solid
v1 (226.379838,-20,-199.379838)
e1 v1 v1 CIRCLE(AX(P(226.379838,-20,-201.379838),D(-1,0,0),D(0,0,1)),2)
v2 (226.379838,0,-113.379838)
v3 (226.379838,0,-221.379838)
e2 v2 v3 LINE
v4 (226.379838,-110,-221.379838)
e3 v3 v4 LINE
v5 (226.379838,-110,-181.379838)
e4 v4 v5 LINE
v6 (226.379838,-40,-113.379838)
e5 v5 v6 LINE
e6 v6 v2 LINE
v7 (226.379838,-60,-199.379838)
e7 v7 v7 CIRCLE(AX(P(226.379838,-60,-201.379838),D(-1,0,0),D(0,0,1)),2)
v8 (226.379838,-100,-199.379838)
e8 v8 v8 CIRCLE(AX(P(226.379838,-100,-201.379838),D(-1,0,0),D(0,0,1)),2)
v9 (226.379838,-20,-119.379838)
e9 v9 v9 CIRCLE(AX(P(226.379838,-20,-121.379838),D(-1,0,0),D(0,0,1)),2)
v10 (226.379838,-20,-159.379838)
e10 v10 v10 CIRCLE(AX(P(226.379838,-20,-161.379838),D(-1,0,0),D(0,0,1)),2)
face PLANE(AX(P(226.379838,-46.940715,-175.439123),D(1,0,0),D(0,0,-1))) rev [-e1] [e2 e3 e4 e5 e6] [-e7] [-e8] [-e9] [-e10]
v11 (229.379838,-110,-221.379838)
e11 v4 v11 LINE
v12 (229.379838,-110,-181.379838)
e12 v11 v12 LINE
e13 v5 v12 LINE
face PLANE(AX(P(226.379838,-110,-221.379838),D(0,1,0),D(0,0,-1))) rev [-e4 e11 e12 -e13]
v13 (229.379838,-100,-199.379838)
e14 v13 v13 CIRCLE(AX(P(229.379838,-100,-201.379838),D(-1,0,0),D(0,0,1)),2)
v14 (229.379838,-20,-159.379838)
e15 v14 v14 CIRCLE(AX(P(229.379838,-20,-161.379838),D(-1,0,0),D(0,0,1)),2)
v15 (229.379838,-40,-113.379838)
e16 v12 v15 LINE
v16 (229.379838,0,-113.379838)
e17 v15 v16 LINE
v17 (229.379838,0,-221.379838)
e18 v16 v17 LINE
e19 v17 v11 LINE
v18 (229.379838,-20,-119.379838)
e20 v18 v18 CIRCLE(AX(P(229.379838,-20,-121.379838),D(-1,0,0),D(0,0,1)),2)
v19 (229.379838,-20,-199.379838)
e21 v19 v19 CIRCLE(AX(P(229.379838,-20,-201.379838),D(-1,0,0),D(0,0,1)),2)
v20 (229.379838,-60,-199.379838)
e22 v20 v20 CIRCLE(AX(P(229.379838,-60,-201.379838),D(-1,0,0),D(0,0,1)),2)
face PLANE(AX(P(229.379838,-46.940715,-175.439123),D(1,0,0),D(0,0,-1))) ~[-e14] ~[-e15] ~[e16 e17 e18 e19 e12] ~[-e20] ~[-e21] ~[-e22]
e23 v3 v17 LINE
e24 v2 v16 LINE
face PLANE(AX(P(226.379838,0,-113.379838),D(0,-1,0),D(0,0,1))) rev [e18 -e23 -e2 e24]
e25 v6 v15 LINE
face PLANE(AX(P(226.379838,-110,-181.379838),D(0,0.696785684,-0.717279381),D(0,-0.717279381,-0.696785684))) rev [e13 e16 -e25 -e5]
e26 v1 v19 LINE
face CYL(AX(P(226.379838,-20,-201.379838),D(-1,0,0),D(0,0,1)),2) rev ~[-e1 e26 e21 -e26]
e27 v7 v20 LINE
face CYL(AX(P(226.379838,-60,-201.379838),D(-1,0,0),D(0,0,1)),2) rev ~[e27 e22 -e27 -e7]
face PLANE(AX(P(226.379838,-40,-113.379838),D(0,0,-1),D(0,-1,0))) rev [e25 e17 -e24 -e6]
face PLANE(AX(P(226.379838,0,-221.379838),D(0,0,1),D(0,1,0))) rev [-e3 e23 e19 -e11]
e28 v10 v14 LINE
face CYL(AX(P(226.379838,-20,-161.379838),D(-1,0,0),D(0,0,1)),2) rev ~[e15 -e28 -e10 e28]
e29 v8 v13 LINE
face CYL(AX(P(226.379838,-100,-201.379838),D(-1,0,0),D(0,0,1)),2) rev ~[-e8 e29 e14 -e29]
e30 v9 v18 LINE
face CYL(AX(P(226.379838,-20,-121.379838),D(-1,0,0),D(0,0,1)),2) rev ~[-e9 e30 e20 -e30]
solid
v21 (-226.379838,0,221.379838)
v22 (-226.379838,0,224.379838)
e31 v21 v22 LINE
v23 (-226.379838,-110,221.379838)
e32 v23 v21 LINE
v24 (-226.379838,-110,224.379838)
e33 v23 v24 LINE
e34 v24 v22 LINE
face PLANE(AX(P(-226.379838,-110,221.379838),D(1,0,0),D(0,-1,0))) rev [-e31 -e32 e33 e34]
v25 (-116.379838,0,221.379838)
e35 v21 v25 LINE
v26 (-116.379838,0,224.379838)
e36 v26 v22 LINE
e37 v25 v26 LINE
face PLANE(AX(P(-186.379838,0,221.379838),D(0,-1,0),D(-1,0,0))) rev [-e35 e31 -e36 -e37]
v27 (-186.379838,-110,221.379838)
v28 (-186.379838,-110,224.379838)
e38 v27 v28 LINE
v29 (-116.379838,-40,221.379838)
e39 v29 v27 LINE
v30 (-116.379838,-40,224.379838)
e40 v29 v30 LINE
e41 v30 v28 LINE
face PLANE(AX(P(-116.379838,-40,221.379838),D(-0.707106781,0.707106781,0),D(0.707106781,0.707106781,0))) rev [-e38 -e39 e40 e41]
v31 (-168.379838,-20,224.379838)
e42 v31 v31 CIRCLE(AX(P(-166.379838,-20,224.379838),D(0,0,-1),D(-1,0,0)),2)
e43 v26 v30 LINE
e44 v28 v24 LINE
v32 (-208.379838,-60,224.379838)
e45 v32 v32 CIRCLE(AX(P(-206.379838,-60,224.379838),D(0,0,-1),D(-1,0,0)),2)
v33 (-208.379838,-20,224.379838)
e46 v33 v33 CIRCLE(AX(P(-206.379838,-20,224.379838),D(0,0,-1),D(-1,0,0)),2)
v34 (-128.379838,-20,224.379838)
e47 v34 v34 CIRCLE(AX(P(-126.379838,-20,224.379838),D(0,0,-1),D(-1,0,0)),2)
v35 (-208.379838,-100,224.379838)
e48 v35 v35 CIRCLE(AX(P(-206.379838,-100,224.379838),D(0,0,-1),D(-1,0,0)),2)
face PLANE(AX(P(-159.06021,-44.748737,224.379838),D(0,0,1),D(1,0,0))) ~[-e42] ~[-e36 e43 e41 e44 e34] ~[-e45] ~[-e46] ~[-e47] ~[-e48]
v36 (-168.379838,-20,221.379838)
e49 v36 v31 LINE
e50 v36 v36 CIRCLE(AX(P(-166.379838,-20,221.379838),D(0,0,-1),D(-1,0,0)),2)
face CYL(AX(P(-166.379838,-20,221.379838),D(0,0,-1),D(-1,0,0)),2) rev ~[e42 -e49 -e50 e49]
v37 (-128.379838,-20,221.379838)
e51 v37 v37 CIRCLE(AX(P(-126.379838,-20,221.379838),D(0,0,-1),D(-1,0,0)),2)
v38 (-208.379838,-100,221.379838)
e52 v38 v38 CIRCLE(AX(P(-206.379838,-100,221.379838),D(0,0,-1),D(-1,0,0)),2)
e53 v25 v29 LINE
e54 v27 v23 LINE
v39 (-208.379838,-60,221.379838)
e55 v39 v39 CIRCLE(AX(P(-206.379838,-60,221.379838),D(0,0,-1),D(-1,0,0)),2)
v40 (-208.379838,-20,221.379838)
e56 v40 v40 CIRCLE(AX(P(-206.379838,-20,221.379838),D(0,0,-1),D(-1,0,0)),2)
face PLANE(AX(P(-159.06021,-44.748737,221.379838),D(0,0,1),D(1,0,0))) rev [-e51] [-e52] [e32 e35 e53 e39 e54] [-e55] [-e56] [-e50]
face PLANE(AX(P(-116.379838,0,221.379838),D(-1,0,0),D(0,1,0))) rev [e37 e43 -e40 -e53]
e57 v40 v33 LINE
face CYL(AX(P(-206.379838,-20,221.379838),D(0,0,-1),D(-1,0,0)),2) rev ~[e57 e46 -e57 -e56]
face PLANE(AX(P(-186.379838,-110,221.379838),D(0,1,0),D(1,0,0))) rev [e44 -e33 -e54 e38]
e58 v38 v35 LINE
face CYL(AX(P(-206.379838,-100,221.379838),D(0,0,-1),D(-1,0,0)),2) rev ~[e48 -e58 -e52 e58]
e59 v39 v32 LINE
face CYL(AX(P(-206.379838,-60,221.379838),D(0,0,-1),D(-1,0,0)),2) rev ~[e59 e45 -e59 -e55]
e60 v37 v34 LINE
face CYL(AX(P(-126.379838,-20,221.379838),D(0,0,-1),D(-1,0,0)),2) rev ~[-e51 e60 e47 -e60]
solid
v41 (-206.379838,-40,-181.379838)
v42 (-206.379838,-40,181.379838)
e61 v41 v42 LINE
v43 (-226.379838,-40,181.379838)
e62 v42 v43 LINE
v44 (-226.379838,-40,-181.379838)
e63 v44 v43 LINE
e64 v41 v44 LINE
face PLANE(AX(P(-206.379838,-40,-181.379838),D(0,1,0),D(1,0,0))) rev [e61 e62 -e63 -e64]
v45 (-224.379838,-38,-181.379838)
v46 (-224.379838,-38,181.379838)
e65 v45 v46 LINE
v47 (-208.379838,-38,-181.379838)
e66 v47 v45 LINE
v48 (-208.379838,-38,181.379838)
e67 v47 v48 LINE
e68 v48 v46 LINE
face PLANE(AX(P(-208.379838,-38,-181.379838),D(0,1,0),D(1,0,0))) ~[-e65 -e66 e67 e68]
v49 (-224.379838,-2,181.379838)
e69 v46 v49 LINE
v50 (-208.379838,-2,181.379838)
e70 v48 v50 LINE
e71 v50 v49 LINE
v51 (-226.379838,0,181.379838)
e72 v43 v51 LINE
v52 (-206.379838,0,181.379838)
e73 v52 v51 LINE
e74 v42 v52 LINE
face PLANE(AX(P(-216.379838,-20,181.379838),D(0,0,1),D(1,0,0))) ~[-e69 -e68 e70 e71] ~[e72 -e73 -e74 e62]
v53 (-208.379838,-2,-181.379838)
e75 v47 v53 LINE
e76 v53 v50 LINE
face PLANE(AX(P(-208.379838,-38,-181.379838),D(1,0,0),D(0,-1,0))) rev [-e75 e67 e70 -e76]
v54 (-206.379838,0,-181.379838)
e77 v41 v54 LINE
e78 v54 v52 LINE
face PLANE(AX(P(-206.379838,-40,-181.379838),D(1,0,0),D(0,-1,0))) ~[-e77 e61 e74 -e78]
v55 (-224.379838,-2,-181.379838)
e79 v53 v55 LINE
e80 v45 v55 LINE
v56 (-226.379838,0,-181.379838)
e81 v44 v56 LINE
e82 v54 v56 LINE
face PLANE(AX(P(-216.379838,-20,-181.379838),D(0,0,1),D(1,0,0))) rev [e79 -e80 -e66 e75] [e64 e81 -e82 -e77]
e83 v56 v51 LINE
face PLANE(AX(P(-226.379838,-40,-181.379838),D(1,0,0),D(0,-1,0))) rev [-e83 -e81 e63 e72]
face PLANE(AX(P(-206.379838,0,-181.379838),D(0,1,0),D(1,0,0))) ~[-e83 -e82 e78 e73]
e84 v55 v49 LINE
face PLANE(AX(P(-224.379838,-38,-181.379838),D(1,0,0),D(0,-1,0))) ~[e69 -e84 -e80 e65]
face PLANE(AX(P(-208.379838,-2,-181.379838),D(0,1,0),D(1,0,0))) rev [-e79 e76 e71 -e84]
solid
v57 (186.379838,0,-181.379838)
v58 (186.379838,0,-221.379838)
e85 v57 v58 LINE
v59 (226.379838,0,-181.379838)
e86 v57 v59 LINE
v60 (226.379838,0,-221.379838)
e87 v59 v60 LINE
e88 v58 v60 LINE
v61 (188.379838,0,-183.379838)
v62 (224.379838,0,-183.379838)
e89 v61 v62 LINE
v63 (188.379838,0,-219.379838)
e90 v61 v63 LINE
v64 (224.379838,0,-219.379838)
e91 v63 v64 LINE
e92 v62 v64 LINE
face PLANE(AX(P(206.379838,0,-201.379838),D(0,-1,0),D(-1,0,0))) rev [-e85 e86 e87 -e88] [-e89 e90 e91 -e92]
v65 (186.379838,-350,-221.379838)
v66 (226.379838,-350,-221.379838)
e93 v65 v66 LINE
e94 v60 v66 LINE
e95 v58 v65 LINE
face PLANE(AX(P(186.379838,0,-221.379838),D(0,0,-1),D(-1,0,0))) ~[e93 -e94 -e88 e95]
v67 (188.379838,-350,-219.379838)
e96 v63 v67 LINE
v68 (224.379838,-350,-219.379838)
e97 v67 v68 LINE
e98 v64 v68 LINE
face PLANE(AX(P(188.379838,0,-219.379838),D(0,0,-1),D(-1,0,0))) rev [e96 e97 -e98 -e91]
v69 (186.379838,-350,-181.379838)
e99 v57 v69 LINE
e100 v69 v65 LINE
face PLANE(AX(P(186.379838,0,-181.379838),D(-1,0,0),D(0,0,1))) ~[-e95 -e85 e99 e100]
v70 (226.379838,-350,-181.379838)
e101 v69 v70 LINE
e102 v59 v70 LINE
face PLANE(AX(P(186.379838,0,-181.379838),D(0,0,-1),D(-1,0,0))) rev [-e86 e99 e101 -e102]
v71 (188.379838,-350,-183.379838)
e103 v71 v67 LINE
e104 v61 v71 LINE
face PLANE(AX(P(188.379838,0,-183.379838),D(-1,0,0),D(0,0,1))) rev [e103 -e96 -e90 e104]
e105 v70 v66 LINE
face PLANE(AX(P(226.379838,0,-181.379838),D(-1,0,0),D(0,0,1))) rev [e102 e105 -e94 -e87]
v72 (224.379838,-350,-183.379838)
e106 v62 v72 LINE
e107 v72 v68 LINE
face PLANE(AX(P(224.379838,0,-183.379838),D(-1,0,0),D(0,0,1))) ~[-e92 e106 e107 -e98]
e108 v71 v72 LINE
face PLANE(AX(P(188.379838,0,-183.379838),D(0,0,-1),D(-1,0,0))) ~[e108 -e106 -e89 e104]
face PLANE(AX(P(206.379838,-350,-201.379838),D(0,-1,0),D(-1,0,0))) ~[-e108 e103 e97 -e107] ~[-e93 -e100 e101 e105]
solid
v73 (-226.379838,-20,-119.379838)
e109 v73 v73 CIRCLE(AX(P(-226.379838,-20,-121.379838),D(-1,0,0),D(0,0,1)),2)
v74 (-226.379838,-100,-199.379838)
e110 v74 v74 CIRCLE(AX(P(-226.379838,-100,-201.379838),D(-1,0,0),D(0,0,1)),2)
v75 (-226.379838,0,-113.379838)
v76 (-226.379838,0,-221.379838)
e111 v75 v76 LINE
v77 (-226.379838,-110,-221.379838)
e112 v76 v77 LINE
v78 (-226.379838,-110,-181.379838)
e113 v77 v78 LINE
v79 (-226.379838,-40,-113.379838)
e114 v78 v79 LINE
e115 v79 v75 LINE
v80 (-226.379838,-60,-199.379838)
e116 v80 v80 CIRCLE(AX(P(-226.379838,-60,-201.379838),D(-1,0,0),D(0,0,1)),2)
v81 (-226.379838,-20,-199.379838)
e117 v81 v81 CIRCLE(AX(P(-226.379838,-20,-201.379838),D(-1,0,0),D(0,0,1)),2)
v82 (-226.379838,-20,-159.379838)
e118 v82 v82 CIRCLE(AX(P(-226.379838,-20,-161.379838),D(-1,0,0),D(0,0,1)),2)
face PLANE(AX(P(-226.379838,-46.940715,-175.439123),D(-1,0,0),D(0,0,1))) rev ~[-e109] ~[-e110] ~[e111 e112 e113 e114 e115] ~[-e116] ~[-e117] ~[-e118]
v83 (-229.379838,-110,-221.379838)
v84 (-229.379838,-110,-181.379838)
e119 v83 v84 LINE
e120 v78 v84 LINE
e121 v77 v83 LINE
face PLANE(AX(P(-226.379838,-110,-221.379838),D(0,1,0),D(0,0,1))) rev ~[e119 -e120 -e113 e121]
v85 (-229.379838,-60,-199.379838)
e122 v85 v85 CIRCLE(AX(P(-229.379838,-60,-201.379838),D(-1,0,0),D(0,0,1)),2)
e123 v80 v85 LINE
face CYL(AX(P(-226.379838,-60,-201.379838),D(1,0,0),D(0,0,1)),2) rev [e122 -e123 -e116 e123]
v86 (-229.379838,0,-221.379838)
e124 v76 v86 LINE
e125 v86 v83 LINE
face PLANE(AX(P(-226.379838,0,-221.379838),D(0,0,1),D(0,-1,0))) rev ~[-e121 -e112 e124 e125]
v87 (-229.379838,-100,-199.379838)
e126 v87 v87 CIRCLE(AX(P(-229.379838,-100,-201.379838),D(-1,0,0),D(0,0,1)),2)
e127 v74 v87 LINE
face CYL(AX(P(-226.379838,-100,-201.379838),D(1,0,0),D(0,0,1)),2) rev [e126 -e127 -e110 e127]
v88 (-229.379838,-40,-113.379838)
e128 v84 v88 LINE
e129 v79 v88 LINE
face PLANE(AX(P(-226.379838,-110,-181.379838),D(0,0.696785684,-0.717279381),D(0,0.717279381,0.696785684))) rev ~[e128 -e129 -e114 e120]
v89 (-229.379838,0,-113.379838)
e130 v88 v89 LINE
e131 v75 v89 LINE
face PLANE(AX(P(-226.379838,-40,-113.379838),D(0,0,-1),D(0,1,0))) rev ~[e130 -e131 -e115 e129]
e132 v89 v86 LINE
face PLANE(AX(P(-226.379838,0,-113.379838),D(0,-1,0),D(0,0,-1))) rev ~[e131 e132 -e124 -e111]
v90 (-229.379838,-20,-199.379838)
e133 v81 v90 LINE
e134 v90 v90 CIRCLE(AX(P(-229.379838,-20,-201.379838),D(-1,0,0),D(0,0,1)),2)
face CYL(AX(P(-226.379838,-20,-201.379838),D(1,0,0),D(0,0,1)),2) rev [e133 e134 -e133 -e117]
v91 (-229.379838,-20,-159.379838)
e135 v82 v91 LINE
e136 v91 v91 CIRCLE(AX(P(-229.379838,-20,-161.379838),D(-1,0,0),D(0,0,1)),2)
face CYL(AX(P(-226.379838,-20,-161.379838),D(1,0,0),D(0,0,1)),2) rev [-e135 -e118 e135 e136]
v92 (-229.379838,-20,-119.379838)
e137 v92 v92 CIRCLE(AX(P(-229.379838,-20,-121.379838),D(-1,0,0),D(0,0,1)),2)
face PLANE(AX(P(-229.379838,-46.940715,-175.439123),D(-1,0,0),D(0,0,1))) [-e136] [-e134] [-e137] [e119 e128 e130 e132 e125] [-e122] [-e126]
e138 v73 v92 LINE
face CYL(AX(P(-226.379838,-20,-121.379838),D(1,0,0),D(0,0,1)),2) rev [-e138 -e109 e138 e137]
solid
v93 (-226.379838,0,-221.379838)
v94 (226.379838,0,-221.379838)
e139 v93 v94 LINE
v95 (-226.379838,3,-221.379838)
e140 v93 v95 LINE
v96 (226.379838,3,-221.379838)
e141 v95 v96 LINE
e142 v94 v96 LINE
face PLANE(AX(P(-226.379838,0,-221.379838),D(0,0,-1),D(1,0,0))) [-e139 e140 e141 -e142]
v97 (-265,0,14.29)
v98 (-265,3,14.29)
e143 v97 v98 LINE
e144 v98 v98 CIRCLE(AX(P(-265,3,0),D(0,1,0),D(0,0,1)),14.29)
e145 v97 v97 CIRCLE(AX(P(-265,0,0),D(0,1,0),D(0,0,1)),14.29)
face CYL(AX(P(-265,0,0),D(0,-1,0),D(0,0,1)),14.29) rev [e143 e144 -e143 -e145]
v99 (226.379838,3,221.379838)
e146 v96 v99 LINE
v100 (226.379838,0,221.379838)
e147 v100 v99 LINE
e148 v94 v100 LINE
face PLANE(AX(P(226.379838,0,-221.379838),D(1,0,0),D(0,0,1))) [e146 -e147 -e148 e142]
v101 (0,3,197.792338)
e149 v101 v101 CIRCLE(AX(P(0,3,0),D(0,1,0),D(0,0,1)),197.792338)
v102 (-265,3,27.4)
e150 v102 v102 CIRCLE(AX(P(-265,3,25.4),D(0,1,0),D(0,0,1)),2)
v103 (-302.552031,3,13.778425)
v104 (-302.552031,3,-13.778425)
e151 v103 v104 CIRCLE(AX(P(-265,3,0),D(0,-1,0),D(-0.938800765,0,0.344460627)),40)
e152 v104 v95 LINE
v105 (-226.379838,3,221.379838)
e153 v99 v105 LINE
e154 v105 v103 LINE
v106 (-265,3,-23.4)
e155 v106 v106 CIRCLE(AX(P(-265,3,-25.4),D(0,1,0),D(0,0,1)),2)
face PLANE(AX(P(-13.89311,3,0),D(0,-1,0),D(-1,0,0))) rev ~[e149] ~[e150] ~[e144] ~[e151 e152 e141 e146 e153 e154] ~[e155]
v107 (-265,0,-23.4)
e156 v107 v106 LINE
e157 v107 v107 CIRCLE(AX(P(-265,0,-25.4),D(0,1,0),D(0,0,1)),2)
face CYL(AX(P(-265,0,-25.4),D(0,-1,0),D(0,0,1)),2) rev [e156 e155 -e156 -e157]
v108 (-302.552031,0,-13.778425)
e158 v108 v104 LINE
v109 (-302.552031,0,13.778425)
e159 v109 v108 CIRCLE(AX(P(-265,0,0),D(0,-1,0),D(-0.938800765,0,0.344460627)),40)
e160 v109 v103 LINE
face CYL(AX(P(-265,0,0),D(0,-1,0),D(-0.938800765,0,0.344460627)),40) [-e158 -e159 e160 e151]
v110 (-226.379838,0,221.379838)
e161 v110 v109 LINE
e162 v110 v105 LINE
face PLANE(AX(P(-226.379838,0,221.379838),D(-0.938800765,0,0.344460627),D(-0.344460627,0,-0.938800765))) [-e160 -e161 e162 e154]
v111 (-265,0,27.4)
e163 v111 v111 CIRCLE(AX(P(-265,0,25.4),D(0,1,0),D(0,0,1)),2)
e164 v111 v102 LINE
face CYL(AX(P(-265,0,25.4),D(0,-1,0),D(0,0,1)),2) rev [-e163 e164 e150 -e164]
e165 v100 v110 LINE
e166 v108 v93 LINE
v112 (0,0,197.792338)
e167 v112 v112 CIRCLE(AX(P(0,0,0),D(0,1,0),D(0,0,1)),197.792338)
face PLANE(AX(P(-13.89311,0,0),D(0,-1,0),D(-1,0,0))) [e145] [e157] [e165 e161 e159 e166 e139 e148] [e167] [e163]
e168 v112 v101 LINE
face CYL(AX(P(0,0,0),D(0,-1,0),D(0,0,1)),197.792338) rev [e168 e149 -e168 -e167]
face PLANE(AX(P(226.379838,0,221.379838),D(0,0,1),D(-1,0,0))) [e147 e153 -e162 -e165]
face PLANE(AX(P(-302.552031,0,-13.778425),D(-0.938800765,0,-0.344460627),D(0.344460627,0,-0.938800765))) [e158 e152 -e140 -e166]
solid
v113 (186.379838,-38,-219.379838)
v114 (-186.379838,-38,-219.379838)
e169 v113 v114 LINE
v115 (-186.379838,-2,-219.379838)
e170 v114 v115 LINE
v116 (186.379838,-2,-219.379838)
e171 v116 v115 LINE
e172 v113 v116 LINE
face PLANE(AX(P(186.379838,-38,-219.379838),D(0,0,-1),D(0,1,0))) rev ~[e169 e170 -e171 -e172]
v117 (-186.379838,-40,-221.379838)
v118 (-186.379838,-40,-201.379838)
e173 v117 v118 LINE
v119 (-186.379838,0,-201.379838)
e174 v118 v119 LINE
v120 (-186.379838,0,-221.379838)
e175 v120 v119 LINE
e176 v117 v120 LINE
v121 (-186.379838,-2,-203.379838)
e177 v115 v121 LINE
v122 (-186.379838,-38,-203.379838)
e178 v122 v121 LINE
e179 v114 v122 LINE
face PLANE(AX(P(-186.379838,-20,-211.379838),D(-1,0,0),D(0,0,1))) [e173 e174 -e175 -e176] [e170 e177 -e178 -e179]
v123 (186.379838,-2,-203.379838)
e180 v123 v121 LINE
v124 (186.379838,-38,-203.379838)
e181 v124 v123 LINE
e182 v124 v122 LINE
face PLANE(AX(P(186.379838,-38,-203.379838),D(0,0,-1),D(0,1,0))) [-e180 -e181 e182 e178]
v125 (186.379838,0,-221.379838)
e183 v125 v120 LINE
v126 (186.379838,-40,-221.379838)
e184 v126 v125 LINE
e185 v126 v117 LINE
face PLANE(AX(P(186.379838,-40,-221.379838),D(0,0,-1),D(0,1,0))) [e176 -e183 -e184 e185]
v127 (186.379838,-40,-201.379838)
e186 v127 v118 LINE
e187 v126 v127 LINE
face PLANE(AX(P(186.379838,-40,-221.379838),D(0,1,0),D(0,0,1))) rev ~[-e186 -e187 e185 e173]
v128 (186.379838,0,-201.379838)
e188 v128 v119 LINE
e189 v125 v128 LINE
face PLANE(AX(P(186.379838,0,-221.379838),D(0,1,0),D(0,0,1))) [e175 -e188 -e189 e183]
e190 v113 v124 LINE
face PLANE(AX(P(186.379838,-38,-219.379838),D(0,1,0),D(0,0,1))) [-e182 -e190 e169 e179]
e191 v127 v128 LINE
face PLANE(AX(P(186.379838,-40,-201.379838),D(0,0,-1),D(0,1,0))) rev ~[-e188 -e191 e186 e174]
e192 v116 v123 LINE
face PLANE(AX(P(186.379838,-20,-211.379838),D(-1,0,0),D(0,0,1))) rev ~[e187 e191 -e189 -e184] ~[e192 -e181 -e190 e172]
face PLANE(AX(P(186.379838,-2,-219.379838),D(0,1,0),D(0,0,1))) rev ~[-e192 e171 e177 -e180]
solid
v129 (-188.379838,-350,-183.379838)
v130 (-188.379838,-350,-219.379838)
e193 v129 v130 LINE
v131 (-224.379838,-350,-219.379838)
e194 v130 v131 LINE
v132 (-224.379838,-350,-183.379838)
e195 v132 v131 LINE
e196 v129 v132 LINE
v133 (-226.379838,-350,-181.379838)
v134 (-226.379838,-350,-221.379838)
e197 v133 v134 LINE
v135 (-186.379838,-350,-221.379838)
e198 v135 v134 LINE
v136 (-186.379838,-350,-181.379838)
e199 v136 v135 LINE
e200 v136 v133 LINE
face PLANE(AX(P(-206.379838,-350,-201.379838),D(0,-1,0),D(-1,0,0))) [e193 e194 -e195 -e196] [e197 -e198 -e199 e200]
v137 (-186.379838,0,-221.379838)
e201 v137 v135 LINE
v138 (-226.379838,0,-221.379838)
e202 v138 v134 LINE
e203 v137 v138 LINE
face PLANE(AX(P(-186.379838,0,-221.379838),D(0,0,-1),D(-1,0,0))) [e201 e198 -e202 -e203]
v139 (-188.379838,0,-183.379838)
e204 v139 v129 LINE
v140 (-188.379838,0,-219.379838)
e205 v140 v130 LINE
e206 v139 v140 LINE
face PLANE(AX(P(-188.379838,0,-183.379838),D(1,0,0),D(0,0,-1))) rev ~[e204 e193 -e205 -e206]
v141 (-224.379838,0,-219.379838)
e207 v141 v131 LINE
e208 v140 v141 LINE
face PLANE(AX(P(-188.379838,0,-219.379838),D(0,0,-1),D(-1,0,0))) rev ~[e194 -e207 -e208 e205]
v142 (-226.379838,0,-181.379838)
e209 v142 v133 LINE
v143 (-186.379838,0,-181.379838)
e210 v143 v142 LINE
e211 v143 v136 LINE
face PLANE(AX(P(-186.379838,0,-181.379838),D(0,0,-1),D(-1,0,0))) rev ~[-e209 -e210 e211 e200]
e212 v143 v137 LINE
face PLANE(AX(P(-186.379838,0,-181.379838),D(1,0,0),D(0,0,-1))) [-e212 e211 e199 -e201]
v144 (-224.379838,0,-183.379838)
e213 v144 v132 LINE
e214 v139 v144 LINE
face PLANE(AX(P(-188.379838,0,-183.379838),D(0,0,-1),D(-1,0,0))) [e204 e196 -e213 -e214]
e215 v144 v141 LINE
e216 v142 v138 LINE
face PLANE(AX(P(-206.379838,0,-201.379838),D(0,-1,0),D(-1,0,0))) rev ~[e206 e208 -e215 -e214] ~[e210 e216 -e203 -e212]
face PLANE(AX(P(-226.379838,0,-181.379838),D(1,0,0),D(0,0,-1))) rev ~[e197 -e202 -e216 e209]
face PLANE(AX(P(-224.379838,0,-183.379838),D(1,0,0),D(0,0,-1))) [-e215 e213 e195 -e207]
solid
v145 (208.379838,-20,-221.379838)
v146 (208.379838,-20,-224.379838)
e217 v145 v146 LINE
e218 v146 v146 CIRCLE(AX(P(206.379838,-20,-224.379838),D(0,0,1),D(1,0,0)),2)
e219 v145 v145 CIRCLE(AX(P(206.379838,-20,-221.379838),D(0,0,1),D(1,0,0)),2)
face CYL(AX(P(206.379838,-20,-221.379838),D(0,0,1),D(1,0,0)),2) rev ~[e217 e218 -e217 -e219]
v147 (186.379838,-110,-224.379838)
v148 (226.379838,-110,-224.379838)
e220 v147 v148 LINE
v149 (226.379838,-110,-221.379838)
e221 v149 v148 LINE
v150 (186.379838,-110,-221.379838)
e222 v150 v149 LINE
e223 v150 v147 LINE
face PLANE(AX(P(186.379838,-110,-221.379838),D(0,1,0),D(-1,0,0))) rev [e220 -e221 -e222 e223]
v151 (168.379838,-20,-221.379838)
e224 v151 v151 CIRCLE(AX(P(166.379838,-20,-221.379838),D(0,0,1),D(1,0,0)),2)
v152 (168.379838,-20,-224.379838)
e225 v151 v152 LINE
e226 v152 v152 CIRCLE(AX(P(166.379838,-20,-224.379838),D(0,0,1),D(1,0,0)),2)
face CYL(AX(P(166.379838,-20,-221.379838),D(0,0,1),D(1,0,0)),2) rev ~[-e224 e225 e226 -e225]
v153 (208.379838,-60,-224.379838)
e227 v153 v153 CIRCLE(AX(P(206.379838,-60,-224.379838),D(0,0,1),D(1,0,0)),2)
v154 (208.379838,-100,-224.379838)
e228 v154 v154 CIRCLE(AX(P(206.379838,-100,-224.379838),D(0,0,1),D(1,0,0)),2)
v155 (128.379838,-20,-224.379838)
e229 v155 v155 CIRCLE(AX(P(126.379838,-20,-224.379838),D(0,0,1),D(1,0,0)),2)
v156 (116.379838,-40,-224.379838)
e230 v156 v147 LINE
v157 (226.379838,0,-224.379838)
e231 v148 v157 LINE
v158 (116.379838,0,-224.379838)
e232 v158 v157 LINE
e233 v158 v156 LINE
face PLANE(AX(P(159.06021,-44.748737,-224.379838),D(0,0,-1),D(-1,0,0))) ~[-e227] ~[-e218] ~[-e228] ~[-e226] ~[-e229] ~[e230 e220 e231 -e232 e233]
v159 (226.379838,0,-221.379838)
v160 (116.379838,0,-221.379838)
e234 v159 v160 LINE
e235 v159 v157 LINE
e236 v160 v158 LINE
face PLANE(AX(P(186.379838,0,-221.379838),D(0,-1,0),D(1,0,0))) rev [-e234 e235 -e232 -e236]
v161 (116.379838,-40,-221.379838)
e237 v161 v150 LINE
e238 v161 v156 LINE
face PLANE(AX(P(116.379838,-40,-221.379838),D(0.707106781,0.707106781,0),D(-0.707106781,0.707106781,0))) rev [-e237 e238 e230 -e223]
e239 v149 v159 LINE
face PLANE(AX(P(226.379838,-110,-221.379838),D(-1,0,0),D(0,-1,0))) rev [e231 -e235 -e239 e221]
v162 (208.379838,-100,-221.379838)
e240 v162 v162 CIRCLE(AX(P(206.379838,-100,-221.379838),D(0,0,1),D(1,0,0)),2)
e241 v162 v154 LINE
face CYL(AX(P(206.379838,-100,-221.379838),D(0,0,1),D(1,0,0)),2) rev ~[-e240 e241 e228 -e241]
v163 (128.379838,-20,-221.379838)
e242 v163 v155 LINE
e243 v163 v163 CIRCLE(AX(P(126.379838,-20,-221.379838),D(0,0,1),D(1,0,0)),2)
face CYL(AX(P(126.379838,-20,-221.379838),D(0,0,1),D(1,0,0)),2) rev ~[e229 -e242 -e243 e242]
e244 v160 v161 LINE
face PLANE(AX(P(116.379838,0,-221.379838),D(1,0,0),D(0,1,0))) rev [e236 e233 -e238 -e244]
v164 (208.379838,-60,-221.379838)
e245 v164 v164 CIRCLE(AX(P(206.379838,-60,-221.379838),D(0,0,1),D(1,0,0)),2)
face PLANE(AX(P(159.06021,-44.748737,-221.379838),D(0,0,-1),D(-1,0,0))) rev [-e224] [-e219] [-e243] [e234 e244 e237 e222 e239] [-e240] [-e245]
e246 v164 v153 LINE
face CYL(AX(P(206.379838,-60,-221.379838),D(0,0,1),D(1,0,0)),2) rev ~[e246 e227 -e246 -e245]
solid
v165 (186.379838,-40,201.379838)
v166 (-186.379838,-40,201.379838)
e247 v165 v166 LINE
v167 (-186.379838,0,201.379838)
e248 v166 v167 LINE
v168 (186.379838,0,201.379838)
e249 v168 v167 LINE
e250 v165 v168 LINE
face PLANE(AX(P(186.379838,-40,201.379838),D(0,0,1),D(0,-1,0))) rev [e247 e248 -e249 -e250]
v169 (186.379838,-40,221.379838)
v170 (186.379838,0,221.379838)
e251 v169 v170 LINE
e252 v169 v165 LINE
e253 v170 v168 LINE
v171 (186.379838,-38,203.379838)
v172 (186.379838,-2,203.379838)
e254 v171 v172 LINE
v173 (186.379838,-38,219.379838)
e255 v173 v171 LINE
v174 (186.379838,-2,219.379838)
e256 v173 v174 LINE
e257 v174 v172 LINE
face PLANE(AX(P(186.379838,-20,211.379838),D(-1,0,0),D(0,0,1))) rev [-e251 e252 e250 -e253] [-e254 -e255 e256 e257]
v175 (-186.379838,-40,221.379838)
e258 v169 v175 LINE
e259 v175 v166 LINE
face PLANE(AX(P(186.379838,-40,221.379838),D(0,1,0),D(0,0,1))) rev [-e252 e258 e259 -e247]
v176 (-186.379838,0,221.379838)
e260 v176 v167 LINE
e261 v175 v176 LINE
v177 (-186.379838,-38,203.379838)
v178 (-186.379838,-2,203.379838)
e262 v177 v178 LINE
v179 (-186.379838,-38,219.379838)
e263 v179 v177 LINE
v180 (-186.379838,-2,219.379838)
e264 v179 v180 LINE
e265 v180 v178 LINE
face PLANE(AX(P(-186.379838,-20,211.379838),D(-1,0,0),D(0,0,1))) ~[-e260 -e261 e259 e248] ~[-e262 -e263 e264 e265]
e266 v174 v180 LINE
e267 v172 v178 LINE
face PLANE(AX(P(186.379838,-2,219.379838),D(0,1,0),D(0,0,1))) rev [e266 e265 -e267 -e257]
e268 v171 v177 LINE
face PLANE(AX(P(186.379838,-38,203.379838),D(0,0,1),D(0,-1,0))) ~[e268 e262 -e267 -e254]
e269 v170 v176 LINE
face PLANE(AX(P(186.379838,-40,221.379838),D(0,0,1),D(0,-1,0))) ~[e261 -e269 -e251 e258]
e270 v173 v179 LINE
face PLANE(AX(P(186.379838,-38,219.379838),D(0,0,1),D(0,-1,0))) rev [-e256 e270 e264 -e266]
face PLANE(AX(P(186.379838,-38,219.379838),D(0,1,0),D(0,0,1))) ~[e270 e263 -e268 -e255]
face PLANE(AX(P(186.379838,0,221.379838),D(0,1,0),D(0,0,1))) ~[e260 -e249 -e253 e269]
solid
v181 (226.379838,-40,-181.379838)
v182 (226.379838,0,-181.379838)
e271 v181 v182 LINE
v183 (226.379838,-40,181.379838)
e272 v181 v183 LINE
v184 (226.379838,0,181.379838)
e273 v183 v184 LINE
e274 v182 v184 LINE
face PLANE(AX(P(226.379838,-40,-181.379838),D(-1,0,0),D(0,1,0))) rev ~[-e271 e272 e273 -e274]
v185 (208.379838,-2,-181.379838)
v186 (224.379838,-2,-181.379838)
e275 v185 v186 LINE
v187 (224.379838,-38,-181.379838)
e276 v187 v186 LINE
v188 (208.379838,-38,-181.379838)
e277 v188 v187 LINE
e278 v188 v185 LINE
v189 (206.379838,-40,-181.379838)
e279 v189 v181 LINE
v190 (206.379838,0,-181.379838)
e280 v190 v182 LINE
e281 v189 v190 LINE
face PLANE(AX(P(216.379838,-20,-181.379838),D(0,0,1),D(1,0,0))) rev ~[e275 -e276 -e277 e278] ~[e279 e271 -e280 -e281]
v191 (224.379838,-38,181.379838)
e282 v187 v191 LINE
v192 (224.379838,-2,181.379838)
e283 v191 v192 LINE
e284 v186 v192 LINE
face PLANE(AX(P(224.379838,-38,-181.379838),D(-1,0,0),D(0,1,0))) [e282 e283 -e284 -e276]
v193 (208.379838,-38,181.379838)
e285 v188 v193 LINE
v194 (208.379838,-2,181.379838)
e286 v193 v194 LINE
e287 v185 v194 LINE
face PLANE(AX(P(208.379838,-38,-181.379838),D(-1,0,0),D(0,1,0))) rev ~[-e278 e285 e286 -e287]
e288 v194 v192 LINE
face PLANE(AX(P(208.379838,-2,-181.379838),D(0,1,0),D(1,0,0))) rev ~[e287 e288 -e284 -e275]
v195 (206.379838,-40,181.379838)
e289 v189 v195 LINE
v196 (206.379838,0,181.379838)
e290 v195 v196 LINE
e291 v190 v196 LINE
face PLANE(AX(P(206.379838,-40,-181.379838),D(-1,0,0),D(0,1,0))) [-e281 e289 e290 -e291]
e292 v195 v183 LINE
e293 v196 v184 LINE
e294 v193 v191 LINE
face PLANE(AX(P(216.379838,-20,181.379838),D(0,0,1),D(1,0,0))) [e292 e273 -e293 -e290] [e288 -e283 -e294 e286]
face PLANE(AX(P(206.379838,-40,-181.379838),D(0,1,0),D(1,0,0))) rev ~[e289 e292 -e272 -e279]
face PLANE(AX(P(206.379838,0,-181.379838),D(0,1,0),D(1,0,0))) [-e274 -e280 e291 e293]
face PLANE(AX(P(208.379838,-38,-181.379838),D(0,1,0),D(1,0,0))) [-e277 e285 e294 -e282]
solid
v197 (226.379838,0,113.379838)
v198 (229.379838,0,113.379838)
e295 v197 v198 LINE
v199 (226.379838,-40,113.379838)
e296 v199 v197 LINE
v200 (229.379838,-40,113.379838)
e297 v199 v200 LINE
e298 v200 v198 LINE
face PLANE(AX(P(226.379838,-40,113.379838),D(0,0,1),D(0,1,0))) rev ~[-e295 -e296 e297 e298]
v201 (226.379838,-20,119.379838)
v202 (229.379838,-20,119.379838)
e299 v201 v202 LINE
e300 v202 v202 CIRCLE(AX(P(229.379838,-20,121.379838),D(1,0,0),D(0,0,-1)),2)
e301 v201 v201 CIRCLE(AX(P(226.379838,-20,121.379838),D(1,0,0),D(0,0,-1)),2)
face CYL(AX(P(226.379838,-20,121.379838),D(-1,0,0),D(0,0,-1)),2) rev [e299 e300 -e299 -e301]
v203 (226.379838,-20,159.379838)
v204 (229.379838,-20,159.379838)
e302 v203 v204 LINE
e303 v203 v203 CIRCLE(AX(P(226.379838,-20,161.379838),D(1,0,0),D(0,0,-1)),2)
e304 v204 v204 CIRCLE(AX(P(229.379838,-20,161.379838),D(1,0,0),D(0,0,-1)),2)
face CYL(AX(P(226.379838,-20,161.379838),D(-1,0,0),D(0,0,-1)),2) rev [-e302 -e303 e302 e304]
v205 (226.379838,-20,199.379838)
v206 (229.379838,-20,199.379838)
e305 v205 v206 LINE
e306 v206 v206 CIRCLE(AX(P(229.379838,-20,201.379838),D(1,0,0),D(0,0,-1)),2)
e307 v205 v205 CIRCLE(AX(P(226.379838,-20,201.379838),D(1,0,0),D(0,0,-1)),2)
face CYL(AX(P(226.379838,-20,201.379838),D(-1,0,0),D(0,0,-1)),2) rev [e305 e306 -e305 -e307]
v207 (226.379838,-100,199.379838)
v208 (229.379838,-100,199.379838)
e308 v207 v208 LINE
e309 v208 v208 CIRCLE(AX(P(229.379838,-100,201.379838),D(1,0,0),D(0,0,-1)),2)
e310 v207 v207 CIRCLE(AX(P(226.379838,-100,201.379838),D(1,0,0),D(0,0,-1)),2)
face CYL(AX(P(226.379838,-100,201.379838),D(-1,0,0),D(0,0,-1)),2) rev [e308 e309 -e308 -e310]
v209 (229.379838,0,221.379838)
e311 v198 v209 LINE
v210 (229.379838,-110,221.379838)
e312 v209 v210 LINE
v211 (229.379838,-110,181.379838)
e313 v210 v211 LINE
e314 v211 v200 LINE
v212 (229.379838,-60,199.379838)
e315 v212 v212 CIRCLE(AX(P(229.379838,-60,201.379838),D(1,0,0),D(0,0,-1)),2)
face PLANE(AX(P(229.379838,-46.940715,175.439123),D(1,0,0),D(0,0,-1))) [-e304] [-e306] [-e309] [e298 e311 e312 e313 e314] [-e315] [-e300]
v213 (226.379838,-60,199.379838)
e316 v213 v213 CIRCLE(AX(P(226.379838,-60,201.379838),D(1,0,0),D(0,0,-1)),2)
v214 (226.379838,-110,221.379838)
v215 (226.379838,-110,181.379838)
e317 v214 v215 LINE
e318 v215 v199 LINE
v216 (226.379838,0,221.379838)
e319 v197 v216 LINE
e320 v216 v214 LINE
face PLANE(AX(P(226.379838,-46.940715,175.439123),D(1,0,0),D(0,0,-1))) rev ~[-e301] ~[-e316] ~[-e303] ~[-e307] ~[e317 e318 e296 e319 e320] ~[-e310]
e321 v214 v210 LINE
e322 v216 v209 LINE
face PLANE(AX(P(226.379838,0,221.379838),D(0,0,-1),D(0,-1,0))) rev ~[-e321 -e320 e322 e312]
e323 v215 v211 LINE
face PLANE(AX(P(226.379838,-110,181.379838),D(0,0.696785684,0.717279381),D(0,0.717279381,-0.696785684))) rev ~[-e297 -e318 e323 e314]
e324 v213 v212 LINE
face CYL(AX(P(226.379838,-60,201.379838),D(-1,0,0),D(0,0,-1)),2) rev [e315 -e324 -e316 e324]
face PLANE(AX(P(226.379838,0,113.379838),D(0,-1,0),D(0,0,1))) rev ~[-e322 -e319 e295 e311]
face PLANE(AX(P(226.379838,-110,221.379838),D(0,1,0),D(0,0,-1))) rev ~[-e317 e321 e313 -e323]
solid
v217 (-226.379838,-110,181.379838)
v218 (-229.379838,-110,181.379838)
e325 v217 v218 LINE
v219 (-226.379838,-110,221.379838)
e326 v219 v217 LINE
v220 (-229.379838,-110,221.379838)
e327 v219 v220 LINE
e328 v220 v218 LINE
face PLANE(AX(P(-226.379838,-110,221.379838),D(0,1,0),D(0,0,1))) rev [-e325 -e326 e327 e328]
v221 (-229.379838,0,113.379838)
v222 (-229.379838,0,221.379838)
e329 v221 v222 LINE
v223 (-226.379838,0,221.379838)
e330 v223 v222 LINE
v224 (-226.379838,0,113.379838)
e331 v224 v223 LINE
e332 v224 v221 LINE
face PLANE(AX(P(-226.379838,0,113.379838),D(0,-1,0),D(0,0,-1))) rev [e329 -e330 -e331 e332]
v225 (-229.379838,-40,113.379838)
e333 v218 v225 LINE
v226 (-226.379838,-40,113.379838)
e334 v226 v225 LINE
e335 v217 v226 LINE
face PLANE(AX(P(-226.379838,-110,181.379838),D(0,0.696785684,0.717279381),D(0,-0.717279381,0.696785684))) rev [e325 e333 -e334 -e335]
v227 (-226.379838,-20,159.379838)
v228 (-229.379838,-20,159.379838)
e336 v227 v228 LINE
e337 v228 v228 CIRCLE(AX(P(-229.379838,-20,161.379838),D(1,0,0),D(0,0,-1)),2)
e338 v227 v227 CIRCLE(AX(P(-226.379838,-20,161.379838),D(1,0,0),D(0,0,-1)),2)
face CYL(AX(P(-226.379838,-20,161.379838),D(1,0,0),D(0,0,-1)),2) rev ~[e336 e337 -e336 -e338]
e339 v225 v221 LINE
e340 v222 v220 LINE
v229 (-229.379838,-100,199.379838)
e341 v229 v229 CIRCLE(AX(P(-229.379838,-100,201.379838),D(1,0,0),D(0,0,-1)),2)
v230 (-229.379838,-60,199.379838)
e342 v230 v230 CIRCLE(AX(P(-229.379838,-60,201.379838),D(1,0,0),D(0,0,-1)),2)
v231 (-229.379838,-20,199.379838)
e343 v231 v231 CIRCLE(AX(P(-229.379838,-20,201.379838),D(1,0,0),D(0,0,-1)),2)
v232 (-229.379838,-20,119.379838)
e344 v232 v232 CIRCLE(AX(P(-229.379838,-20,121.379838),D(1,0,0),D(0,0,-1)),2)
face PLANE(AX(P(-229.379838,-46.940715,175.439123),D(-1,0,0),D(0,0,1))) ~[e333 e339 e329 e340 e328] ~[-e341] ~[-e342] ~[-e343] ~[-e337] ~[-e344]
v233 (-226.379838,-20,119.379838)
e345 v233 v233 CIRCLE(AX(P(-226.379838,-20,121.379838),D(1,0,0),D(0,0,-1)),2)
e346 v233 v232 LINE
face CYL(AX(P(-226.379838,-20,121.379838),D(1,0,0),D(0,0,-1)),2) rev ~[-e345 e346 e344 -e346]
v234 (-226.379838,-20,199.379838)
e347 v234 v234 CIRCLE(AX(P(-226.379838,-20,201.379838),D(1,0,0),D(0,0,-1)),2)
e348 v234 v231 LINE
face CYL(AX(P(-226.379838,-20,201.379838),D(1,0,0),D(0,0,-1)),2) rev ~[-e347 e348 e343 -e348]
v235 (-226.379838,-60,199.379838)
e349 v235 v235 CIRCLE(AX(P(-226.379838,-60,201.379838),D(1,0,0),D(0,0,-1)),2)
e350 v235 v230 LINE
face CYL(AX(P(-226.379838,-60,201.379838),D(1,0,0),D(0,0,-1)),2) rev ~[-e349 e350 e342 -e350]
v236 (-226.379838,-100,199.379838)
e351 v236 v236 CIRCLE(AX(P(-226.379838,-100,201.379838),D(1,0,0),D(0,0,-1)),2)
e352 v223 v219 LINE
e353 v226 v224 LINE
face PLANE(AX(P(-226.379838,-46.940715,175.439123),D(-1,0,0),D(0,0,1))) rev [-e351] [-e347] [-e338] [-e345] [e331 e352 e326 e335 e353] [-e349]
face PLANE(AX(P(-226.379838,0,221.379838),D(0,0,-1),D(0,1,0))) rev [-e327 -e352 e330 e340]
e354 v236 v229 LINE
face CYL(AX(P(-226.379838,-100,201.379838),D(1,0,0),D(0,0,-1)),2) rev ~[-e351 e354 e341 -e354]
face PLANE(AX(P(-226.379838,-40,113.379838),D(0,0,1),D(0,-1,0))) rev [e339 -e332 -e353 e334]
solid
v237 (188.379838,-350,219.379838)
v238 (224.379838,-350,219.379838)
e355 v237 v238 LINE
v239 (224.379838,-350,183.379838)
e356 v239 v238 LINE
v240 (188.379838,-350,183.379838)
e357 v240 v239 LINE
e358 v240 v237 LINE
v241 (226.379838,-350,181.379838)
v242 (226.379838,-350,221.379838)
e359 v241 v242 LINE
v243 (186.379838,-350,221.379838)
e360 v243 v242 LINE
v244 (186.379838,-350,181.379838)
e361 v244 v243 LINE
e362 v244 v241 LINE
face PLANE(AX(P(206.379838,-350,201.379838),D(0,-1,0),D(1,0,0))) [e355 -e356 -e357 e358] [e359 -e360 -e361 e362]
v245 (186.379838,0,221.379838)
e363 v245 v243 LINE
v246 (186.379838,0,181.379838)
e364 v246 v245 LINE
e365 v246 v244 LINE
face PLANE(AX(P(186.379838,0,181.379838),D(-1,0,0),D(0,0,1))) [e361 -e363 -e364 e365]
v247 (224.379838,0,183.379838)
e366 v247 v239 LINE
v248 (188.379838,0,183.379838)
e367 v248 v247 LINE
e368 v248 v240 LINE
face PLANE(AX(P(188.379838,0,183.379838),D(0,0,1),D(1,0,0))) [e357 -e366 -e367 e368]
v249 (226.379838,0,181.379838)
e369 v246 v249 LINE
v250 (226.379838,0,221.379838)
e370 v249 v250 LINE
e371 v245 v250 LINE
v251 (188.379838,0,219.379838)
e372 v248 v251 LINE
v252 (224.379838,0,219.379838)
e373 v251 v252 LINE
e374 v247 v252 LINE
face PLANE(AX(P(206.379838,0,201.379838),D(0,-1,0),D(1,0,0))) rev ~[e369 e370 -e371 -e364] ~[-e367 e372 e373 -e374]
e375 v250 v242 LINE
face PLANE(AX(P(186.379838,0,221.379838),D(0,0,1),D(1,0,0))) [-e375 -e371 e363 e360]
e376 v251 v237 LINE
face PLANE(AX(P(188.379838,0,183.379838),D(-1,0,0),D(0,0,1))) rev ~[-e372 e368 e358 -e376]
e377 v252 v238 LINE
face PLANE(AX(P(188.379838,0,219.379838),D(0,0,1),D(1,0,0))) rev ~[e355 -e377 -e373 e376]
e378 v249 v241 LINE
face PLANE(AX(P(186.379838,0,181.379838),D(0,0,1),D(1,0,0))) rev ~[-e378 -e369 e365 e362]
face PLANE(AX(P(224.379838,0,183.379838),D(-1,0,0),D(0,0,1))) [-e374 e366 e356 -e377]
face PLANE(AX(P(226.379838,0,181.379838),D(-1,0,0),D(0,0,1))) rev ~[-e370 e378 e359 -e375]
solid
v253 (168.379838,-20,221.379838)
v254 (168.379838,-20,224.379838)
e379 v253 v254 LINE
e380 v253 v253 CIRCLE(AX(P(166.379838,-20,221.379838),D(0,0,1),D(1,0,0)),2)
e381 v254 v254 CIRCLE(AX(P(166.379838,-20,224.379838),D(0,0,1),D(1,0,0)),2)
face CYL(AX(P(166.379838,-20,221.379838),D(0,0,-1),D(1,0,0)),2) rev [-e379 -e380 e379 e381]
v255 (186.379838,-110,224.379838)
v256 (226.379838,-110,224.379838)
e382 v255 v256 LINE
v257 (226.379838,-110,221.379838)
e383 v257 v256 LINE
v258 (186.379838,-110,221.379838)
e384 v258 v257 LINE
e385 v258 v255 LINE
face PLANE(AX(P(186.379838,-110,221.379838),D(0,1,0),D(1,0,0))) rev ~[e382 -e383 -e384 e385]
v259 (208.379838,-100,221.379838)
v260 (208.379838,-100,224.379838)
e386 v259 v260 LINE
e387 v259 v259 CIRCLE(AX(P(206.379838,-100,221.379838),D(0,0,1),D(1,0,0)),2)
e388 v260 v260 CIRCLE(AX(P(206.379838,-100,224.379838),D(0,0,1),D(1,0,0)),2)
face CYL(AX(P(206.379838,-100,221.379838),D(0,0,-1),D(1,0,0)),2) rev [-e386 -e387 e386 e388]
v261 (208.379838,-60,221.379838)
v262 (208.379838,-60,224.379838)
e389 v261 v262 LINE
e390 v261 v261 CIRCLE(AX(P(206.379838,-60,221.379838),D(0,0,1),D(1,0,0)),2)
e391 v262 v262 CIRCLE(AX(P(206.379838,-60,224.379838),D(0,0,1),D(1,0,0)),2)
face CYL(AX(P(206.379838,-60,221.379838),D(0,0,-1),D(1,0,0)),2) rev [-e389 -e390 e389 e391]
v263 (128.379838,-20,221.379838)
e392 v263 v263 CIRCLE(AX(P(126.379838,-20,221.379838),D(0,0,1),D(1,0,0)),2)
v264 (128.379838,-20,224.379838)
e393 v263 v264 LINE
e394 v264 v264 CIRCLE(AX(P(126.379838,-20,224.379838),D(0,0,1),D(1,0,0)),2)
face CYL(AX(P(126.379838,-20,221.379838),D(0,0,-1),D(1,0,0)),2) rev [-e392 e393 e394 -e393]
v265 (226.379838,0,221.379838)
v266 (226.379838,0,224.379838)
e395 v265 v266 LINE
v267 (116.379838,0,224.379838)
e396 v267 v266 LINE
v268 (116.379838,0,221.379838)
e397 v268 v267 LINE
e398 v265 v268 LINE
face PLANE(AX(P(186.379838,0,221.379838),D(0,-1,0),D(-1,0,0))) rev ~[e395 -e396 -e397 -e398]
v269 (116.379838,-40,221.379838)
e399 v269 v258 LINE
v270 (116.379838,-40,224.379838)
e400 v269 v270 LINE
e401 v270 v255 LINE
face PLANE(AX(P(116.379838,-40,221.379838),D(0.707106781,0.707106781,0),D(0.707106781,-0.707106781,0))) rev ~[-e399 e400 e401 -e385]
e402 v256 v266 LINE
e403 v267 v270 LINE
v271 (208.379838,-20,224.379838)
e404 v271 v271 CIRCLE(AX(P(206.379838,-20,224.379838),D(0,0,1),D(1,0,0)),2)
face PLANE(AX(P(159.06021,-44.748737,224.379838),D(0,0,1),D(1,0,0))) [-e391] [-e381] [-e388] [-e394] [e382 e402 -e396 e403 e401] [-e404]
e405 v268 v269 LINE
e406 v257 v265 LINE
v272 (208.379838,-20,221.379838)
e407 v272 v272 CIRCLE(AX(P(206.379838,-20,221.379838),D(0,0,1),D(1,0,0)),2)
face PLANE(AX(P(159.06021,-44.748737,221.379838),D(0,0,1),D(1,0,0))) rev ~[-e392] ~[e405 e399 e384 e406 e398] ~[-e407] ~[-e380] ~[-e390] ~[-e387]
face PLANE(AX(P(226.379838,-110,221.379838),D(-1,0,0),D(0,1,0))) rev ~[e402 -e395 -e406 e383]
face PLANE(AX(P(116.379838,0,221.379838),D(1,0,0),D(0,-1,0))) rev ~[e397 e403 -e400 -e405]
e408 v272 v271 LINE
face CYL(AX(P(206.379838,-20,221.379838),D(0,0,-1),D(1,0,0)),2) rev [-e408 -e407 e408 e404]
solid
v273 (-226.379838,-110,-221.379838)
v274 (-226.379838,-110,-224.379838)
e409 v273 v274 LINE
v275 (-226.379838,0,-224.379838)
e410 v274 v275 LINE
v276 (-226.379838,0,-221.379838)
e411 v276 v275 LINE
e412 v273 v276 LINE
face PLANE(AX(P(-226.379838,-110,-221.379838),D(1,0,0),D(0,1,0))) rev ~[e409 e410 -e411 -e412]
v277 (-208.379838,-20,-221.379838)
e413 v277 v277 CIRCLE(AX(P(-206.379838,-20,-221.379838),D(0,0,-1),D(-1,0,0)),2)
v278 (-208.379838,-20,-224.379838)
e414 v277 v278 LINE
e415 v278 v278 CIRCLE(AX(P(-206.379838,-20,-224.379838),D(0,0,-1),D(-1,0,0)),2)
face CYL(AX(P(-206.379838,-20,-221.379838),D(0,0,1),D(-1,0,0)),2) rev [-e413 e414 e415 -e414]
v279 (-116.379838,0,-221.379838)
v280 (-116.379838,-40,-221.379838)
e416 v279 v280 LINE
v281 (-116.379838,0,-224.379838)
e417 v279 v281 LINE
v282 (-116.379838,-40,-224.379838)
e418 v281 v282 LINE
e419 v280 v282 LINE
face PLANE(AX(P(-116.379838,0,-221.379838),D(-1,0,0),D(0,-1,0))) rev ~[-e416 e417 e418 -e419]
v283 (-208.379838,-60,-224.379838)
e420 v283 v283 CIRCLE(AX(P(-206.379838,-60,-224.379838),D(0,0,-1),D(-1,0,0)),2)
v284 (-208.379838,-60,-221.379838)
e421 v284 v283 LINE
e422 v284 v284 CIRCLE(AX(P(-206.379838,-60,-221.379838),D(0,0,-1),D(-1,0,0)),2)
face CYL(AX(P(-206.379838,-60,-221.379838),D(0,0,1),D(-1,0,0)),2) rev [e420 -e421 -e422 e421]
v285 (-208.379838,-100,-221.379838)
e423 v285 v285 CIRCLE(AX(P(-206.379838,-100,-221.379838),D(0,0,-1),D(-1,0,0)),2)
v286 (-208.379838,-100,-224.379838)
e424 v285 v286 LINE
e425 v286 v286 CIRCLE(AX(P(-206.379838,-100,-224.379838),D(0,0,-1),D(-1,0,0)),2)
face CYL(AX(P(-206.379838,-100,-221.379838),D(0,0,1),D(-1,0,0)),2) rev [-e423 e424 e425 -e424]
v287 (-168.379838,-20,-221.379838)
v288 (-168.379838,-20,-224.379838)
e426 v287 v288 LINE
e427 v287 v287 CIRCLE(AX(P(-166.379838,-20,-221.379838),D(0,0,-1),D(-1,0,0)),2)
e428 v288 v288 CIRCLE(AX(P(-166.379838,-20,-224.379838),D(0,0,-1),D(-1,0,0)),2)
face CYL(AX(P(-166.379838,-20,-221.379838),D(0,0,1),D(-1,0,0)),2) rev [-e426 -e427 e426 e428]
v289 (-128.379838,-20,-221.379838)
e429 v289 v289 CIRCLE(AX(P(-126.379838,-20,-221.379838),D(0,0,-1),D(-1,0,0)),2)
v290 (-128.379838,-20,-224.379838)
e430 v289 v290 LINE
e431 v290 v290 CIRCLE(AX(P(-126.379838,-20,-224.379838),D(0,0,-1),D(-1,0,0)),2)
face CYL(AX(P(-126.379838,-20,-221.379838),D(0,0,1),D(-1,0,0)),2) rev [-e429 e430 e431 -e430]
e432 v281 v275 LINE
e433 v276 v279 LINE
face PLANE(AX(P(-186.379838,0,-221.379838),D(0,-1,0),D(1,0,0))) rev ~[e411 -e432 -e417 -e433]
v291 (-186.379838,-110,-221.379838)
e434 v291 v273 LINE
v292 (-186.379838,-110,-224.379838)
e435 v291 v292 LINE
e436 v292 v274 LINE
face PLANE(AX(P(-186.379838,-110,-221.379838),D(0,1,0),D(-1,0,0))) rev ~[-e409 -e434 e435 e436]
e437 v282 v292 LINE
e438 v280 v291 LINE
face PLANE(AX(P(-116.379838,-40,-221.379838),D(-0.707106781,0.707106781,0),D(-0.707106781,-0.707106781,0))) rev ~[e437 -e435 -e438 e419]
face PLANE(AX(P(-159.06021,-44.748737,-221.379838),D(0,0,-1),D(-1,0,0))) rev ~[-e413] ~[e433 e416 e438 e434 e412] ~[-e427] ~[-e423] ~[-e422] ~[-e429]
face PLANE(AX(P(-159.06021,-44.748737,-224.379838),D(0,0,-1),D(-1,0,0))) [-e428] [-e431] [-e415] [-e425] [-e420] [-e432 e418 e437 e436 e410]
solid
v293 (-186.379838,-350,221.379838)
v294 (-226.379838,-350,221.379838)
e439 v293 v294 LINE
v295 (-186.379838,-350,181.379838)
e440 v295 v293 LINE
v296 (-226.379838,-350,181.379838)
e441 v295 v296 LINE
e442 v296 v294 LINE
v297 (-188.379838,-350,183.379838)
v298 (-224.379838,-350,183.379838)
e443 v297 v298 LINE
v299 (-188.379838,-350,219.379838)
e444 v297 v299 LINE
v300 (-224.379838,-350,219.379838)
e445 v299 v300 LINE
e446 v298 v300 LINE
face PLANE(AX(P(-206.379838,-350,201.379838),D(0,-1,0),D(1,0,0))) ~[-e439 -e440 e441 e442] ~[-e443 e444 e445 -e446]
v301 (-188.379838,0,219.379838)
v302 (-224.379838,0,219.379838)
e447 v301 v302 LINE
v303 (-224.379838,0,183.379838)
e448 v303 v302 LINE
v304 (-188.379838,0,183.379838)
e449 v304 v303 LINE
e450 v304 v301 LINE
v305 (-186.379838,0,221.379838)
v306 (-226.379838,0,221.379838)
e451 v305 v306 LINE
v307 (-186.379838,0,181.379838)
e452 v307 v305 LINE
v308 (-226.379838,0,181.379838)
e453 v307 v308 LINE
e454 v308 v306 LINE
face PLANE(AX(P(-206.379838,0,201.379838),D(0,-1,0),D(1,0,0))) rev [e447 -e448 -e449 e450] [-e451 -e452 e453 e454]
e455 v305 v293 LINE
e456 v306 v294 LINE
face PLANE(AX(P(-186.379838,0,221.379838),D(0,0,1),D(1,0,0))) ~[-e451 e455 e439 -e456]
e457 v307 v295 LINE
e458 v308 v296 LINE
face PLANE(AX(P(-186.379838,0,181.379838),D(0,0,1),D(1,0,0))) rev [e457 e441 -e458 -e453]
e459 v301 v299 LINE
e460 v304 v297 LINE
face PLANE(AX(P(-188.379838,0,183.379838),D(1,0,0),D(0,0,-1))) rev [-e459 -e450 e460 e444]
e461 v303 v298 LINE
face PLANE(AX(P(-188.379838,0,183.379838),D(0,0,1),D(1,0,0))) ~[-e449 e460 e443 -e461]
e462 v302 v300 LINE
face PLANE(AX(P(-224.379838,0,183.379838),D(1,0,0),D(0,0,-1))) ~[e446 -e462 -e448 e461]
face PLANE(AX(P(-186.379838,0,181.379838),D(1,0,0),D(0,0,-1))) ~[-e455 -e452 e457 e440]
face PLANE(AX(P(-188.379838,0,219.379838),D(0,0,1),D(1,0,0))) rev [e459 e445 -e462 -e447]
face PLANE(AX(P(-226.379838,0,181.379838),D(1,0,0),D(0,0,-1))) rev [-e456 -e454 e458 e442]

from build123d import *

# Parameters (mm, degrees)
SKETCH5_R           = 14.29
SKETCH5_R_2         = 2
SKETCH5_R_3         = 197.792337932
BOSS_EXTRUDE1_DEPTH = 3
SKETCH6_W           = 40
SKETCH6_H           = 40
SKETCH6_W_2         = 36
SKETCH6_H_2         = 36
BOSS_EXTRUDE2_DEPTH = 350
SKETCH8_W           = 20
SKETCH8_H           = 40
SKETCH8_W_2         = 16
SKETCH8_H_2         = 36
BOSS_EXTRUDE3_DEPTH = 372.759675864
SKETCH9_W           = 20
SKETCH9_H           = 40
SKETCH9_W_2         = 16
SKETCH9_H_2         = 36
BOSS_EXTRUDE4_DEPTH = 362.759675864
SKETCH10_R          = 2
BOSS_EXTRUDE5_DEPTH = 3
SKETCH11_R          = 2
BOSS_EXTRUDE6_DEPTH = 3


with BuildPart() as part:
    # Sketch5 → Boss-Extrude1 (new body)
    with BuildSketch(Plane(origin=(0, 0, 0), x_dir=(1, 0, 0), z_dir=(0, 1, 0))):
        with BuildLine():
            Line((-302.552030607, 13.778425066), (-226.379837932, 221.379837932))
            Line((-226.379837932, 221.379837932), (-186.379837932, 221.379837932))
            Line((-186.379837932, 221.379837932), (186.379837932, 221.379837932))
            Line((186.379837932, 221.379837932), (226.379837932, 221.379837932))
            Line((226.379837932, 221.379837932), (226.379837932, 181.379837932))
            Line((226.379837932, 181.379837932), (226.379837932, -181.379837932))
            Line((226.379837932, -181.379837932), (226.379837932, -221.379837932))
            Line((226.379837932, -221.379837932), (186.379837932, -221.379837932))
            Line((186.379837932, -221.379837932), (-186.379837932, -221.379837932))
            Line((-186.379837932, -221.379837932), (-226.379837932, -221.379837932))
            Line((-226.379837932, -221.379837932), (-302.552030607, -13.778425066))
            ThreePointArc((-302.552030607, -13.778425066), (-305, 0), (-302.552030607, 13.778425066))
        make_face()
        with Locations(Location((-265, 0, 0), (0, 0, 270))):
            Circle(SKETCH5_R, mode=Mode.SUBTRACT)
        with Locations(Location((-265, -25.4, 0), (0, 0, 270))):
            Circle(SKETCH5_R_2, mode=Mode.SUBTRACT)
        with Locations(Location((-265, 25.4, 0), (0, 0, 270))):
            Circle(SKETCH5_R_2, mode=Mode.SUBTRACT)
        with Locations(Location((0, 0, 0), (0, 0, 270))):
            Circle(SKETCH5_R_3, mode=Mode.SUBTRACT)
    extrude(amount=BOSS_EXTRUDE1_DEPTH)


with BuildPart() as body_2:
    # Sketch6 → Boss-Extrude2 (new body)
    with BuildSketch(Plane.XZ):
        with Locations((206.379837932, 201.379837932)):
            Rectangle(SKETCH6_W, SKETCH6_H)
        with Locations((206.379837932, 201.379837932)):
            Rectangle(SKETCH6_W_2, SKETCH6_H_2, mode=Mode.SUBTRACT)
    extrude(amount=BOSS_EXTRUDE2_DEPTH)


with BuildPart() as body_3:
    # Mirror2: mirrored copy
    add(body_2.part.mirror(Plane(origin=(0, 0, 0), x_dir=(0, 0, 1), z_dir=(1, 0, 0))))


with BuildPart() as body_4:
    # Mirror3: mirrored copy
    add(body_2.part.mirror(Plane.XY))


with BuildPart() as body_5:
    # Mirror3 2: mirrored copy
    add(body_3.part.mirror(Plane.XY))


with BuildPart() as body_6:
    # Sketch8 → Boss-Extrude3 (new body)
    with BuildSketch(Plane.ZY.offset(-186.379837932)):
        with Locations((-211.379837932, -20)):
            Rectangle(SKETCH8_W, SKETCH8_H)
        with Locations((-211.379837932, -20)):
            Rectangle(SKETCH8_W_2, SKETCH8_H_2, mode=Mode.SUBTRACT)
    extrude(amount=BOSS_EXTRUDE3_DEPTH)


with BuildPart() as body_7:
    # Mirror4: mirrored copy
    add(body_6.part.mirror(Plane.XY))


with BuildPart() as body_8:
    # Sketch9 → Boss-Extrude4 (new body)
    with BuildSketch(Plane.XY.offset(-181.379837932)):
        with Locations((216.379837932, -20)):
            Rectangle(SKETCH9_W, SKETCH9_H)
        with Locations((216.379837932, -20)):
            Rectangle(SKETCH9_W_2, SKETCH9_H_2, mode=Mode.SUBTRACT)
    extrude(amount=BOSS_EXTRUDE4_DEPTH)


with BuildPart() as body_9:
    # Mirror6: mirrored copy
    add(body_8.part.mirror(Plane(origin=(0, 0, 0), x_dir=(0, 0, 1), z_dir=(1, 0, 0))))


with BuildPart() as body_10:
    # Sketch10 → Boss-Extrude5 (new body)
    # profile 1 of 2: a face of its own
    with BuildSketch(Plane(origin=(0, 0, -221.379837932), x_dir=(-1, 0, 0), z_dir=(0, 0, -1))):
        Polygon((226.379837932, -110), (226.379837932, 0), (186.379837932, 0), (186.379837932, -40), (186.379837932, -110), align=None)
        with Locations((206.379837932, -100)):
            Circle(SKETCH10_R, mode=Mode.SUBTRACT)
        with Locations((206.379837932, -60)):
            Circle(SKETCH10_R, mode=Mode.SUBTRACT)
        with Locations((206.379837932, -20)):
            Circle(SKETCH10_R, mode=Mode.SUBTRACT)
    # profile 2 of 2: a face of its own
    with BuildSketch(Plane(origin=(0, 0, -221.379837932), x_dir=(-1, 0, 0), z_dir=(0, 0, -1))):
        Polygon((186.379837932, -40), (186.379837932, 0), (116.379837932, 0), (116.379837932, -40), (186.379837932, -110), align=None)
        with Locations((126.379837932, -20)):
            Circle(SKETCH10_R, mode=Mode.SUBTRACT)
        with Locations((166.379837932, -20)):
            Circle(SKETCH10_R, mode=Mode.SUBTRACT)
    extrude(amount=BOSS_EXTRUDE5_DEPTH)


with BuildPart() as body_11:
    # Sketch11 → Boss-Extrude6 (new body)
    with BuildSketch(Plane.ZY.offset(226.379837932)):
        Polygon((-113.379837932, -40), (-113.379837932, 0), (-221.379837932, 0), (-221.379837932, -110), (-181.379837932, -110), align=None)
        with Locations((-201.379837932, -100)):
            Circle(SKETCH11_R, mode=Mode.SUBTRACT)
        with Locations((-201.379837932, -60)):
            Circle(SKETCH11_R, mode=Mode.SUBTRACT)
        with Locations((-201.379837932, -20)):
            Circle(SKETCH11_R, mode=Mode.SUBTRACT)
        with Locations((-121.379837932, -20)):
            Circle(SKETCH11_R, mode=Mode.SUBTRACT)
        with Locations((-161.379837932, -20)):
            Circle(SKETCH11_R, mode=Mode.SUBTRACT)
    extrude(amount=BOSS_EXTRUDE6_DEPTH)


with BuildPart() as body_12:
    # Mirror7: mirrored copy
    add(body_11.part.mirror(Plane.XY))


with BuildPart() as body_13:
    # Mirror8: mirrored copy
    add(body_11.part.mirror(Plane(origin=(0, 0, 0), x_dir=(0, 0, 1), z_dir=(1, 0, 0))))


with BuildPart() as body_14:
    # Mirror8 2: mirrored copy
    add(body_12.part.mirror(Plane(origin=(0, 0, 0), x_dir=(0, 0, 1), z_dir=(1, 0, 0))))


with BuildPart() as body_15:
    # Mirror9: mirrored copy
    add(body_10.part.mirror(Plane(origin=(0, 0, 0), x_dir=(0, 0, 1), z_dir=(1, 0, 0))))


with BuildPart() as body_16:
    # Mirror10: mirrored copy
    add(body_15.part.mirror(Plane.XY))


with BuildPart() as body_17:
    # Mirror10 2: mirrored copy
    add(body_10.part.mirror(Plane.XY))


solid = Compound([part.part, body_2.part, body_3.part, body_4.part, body_5.part, body_6.part, body_7.part, body_8.part, body_9.part, body_10.part, body_11.part, body_12.part, body_13.part, body_14.part, body_15.part, body_16.part, body_17.part])
